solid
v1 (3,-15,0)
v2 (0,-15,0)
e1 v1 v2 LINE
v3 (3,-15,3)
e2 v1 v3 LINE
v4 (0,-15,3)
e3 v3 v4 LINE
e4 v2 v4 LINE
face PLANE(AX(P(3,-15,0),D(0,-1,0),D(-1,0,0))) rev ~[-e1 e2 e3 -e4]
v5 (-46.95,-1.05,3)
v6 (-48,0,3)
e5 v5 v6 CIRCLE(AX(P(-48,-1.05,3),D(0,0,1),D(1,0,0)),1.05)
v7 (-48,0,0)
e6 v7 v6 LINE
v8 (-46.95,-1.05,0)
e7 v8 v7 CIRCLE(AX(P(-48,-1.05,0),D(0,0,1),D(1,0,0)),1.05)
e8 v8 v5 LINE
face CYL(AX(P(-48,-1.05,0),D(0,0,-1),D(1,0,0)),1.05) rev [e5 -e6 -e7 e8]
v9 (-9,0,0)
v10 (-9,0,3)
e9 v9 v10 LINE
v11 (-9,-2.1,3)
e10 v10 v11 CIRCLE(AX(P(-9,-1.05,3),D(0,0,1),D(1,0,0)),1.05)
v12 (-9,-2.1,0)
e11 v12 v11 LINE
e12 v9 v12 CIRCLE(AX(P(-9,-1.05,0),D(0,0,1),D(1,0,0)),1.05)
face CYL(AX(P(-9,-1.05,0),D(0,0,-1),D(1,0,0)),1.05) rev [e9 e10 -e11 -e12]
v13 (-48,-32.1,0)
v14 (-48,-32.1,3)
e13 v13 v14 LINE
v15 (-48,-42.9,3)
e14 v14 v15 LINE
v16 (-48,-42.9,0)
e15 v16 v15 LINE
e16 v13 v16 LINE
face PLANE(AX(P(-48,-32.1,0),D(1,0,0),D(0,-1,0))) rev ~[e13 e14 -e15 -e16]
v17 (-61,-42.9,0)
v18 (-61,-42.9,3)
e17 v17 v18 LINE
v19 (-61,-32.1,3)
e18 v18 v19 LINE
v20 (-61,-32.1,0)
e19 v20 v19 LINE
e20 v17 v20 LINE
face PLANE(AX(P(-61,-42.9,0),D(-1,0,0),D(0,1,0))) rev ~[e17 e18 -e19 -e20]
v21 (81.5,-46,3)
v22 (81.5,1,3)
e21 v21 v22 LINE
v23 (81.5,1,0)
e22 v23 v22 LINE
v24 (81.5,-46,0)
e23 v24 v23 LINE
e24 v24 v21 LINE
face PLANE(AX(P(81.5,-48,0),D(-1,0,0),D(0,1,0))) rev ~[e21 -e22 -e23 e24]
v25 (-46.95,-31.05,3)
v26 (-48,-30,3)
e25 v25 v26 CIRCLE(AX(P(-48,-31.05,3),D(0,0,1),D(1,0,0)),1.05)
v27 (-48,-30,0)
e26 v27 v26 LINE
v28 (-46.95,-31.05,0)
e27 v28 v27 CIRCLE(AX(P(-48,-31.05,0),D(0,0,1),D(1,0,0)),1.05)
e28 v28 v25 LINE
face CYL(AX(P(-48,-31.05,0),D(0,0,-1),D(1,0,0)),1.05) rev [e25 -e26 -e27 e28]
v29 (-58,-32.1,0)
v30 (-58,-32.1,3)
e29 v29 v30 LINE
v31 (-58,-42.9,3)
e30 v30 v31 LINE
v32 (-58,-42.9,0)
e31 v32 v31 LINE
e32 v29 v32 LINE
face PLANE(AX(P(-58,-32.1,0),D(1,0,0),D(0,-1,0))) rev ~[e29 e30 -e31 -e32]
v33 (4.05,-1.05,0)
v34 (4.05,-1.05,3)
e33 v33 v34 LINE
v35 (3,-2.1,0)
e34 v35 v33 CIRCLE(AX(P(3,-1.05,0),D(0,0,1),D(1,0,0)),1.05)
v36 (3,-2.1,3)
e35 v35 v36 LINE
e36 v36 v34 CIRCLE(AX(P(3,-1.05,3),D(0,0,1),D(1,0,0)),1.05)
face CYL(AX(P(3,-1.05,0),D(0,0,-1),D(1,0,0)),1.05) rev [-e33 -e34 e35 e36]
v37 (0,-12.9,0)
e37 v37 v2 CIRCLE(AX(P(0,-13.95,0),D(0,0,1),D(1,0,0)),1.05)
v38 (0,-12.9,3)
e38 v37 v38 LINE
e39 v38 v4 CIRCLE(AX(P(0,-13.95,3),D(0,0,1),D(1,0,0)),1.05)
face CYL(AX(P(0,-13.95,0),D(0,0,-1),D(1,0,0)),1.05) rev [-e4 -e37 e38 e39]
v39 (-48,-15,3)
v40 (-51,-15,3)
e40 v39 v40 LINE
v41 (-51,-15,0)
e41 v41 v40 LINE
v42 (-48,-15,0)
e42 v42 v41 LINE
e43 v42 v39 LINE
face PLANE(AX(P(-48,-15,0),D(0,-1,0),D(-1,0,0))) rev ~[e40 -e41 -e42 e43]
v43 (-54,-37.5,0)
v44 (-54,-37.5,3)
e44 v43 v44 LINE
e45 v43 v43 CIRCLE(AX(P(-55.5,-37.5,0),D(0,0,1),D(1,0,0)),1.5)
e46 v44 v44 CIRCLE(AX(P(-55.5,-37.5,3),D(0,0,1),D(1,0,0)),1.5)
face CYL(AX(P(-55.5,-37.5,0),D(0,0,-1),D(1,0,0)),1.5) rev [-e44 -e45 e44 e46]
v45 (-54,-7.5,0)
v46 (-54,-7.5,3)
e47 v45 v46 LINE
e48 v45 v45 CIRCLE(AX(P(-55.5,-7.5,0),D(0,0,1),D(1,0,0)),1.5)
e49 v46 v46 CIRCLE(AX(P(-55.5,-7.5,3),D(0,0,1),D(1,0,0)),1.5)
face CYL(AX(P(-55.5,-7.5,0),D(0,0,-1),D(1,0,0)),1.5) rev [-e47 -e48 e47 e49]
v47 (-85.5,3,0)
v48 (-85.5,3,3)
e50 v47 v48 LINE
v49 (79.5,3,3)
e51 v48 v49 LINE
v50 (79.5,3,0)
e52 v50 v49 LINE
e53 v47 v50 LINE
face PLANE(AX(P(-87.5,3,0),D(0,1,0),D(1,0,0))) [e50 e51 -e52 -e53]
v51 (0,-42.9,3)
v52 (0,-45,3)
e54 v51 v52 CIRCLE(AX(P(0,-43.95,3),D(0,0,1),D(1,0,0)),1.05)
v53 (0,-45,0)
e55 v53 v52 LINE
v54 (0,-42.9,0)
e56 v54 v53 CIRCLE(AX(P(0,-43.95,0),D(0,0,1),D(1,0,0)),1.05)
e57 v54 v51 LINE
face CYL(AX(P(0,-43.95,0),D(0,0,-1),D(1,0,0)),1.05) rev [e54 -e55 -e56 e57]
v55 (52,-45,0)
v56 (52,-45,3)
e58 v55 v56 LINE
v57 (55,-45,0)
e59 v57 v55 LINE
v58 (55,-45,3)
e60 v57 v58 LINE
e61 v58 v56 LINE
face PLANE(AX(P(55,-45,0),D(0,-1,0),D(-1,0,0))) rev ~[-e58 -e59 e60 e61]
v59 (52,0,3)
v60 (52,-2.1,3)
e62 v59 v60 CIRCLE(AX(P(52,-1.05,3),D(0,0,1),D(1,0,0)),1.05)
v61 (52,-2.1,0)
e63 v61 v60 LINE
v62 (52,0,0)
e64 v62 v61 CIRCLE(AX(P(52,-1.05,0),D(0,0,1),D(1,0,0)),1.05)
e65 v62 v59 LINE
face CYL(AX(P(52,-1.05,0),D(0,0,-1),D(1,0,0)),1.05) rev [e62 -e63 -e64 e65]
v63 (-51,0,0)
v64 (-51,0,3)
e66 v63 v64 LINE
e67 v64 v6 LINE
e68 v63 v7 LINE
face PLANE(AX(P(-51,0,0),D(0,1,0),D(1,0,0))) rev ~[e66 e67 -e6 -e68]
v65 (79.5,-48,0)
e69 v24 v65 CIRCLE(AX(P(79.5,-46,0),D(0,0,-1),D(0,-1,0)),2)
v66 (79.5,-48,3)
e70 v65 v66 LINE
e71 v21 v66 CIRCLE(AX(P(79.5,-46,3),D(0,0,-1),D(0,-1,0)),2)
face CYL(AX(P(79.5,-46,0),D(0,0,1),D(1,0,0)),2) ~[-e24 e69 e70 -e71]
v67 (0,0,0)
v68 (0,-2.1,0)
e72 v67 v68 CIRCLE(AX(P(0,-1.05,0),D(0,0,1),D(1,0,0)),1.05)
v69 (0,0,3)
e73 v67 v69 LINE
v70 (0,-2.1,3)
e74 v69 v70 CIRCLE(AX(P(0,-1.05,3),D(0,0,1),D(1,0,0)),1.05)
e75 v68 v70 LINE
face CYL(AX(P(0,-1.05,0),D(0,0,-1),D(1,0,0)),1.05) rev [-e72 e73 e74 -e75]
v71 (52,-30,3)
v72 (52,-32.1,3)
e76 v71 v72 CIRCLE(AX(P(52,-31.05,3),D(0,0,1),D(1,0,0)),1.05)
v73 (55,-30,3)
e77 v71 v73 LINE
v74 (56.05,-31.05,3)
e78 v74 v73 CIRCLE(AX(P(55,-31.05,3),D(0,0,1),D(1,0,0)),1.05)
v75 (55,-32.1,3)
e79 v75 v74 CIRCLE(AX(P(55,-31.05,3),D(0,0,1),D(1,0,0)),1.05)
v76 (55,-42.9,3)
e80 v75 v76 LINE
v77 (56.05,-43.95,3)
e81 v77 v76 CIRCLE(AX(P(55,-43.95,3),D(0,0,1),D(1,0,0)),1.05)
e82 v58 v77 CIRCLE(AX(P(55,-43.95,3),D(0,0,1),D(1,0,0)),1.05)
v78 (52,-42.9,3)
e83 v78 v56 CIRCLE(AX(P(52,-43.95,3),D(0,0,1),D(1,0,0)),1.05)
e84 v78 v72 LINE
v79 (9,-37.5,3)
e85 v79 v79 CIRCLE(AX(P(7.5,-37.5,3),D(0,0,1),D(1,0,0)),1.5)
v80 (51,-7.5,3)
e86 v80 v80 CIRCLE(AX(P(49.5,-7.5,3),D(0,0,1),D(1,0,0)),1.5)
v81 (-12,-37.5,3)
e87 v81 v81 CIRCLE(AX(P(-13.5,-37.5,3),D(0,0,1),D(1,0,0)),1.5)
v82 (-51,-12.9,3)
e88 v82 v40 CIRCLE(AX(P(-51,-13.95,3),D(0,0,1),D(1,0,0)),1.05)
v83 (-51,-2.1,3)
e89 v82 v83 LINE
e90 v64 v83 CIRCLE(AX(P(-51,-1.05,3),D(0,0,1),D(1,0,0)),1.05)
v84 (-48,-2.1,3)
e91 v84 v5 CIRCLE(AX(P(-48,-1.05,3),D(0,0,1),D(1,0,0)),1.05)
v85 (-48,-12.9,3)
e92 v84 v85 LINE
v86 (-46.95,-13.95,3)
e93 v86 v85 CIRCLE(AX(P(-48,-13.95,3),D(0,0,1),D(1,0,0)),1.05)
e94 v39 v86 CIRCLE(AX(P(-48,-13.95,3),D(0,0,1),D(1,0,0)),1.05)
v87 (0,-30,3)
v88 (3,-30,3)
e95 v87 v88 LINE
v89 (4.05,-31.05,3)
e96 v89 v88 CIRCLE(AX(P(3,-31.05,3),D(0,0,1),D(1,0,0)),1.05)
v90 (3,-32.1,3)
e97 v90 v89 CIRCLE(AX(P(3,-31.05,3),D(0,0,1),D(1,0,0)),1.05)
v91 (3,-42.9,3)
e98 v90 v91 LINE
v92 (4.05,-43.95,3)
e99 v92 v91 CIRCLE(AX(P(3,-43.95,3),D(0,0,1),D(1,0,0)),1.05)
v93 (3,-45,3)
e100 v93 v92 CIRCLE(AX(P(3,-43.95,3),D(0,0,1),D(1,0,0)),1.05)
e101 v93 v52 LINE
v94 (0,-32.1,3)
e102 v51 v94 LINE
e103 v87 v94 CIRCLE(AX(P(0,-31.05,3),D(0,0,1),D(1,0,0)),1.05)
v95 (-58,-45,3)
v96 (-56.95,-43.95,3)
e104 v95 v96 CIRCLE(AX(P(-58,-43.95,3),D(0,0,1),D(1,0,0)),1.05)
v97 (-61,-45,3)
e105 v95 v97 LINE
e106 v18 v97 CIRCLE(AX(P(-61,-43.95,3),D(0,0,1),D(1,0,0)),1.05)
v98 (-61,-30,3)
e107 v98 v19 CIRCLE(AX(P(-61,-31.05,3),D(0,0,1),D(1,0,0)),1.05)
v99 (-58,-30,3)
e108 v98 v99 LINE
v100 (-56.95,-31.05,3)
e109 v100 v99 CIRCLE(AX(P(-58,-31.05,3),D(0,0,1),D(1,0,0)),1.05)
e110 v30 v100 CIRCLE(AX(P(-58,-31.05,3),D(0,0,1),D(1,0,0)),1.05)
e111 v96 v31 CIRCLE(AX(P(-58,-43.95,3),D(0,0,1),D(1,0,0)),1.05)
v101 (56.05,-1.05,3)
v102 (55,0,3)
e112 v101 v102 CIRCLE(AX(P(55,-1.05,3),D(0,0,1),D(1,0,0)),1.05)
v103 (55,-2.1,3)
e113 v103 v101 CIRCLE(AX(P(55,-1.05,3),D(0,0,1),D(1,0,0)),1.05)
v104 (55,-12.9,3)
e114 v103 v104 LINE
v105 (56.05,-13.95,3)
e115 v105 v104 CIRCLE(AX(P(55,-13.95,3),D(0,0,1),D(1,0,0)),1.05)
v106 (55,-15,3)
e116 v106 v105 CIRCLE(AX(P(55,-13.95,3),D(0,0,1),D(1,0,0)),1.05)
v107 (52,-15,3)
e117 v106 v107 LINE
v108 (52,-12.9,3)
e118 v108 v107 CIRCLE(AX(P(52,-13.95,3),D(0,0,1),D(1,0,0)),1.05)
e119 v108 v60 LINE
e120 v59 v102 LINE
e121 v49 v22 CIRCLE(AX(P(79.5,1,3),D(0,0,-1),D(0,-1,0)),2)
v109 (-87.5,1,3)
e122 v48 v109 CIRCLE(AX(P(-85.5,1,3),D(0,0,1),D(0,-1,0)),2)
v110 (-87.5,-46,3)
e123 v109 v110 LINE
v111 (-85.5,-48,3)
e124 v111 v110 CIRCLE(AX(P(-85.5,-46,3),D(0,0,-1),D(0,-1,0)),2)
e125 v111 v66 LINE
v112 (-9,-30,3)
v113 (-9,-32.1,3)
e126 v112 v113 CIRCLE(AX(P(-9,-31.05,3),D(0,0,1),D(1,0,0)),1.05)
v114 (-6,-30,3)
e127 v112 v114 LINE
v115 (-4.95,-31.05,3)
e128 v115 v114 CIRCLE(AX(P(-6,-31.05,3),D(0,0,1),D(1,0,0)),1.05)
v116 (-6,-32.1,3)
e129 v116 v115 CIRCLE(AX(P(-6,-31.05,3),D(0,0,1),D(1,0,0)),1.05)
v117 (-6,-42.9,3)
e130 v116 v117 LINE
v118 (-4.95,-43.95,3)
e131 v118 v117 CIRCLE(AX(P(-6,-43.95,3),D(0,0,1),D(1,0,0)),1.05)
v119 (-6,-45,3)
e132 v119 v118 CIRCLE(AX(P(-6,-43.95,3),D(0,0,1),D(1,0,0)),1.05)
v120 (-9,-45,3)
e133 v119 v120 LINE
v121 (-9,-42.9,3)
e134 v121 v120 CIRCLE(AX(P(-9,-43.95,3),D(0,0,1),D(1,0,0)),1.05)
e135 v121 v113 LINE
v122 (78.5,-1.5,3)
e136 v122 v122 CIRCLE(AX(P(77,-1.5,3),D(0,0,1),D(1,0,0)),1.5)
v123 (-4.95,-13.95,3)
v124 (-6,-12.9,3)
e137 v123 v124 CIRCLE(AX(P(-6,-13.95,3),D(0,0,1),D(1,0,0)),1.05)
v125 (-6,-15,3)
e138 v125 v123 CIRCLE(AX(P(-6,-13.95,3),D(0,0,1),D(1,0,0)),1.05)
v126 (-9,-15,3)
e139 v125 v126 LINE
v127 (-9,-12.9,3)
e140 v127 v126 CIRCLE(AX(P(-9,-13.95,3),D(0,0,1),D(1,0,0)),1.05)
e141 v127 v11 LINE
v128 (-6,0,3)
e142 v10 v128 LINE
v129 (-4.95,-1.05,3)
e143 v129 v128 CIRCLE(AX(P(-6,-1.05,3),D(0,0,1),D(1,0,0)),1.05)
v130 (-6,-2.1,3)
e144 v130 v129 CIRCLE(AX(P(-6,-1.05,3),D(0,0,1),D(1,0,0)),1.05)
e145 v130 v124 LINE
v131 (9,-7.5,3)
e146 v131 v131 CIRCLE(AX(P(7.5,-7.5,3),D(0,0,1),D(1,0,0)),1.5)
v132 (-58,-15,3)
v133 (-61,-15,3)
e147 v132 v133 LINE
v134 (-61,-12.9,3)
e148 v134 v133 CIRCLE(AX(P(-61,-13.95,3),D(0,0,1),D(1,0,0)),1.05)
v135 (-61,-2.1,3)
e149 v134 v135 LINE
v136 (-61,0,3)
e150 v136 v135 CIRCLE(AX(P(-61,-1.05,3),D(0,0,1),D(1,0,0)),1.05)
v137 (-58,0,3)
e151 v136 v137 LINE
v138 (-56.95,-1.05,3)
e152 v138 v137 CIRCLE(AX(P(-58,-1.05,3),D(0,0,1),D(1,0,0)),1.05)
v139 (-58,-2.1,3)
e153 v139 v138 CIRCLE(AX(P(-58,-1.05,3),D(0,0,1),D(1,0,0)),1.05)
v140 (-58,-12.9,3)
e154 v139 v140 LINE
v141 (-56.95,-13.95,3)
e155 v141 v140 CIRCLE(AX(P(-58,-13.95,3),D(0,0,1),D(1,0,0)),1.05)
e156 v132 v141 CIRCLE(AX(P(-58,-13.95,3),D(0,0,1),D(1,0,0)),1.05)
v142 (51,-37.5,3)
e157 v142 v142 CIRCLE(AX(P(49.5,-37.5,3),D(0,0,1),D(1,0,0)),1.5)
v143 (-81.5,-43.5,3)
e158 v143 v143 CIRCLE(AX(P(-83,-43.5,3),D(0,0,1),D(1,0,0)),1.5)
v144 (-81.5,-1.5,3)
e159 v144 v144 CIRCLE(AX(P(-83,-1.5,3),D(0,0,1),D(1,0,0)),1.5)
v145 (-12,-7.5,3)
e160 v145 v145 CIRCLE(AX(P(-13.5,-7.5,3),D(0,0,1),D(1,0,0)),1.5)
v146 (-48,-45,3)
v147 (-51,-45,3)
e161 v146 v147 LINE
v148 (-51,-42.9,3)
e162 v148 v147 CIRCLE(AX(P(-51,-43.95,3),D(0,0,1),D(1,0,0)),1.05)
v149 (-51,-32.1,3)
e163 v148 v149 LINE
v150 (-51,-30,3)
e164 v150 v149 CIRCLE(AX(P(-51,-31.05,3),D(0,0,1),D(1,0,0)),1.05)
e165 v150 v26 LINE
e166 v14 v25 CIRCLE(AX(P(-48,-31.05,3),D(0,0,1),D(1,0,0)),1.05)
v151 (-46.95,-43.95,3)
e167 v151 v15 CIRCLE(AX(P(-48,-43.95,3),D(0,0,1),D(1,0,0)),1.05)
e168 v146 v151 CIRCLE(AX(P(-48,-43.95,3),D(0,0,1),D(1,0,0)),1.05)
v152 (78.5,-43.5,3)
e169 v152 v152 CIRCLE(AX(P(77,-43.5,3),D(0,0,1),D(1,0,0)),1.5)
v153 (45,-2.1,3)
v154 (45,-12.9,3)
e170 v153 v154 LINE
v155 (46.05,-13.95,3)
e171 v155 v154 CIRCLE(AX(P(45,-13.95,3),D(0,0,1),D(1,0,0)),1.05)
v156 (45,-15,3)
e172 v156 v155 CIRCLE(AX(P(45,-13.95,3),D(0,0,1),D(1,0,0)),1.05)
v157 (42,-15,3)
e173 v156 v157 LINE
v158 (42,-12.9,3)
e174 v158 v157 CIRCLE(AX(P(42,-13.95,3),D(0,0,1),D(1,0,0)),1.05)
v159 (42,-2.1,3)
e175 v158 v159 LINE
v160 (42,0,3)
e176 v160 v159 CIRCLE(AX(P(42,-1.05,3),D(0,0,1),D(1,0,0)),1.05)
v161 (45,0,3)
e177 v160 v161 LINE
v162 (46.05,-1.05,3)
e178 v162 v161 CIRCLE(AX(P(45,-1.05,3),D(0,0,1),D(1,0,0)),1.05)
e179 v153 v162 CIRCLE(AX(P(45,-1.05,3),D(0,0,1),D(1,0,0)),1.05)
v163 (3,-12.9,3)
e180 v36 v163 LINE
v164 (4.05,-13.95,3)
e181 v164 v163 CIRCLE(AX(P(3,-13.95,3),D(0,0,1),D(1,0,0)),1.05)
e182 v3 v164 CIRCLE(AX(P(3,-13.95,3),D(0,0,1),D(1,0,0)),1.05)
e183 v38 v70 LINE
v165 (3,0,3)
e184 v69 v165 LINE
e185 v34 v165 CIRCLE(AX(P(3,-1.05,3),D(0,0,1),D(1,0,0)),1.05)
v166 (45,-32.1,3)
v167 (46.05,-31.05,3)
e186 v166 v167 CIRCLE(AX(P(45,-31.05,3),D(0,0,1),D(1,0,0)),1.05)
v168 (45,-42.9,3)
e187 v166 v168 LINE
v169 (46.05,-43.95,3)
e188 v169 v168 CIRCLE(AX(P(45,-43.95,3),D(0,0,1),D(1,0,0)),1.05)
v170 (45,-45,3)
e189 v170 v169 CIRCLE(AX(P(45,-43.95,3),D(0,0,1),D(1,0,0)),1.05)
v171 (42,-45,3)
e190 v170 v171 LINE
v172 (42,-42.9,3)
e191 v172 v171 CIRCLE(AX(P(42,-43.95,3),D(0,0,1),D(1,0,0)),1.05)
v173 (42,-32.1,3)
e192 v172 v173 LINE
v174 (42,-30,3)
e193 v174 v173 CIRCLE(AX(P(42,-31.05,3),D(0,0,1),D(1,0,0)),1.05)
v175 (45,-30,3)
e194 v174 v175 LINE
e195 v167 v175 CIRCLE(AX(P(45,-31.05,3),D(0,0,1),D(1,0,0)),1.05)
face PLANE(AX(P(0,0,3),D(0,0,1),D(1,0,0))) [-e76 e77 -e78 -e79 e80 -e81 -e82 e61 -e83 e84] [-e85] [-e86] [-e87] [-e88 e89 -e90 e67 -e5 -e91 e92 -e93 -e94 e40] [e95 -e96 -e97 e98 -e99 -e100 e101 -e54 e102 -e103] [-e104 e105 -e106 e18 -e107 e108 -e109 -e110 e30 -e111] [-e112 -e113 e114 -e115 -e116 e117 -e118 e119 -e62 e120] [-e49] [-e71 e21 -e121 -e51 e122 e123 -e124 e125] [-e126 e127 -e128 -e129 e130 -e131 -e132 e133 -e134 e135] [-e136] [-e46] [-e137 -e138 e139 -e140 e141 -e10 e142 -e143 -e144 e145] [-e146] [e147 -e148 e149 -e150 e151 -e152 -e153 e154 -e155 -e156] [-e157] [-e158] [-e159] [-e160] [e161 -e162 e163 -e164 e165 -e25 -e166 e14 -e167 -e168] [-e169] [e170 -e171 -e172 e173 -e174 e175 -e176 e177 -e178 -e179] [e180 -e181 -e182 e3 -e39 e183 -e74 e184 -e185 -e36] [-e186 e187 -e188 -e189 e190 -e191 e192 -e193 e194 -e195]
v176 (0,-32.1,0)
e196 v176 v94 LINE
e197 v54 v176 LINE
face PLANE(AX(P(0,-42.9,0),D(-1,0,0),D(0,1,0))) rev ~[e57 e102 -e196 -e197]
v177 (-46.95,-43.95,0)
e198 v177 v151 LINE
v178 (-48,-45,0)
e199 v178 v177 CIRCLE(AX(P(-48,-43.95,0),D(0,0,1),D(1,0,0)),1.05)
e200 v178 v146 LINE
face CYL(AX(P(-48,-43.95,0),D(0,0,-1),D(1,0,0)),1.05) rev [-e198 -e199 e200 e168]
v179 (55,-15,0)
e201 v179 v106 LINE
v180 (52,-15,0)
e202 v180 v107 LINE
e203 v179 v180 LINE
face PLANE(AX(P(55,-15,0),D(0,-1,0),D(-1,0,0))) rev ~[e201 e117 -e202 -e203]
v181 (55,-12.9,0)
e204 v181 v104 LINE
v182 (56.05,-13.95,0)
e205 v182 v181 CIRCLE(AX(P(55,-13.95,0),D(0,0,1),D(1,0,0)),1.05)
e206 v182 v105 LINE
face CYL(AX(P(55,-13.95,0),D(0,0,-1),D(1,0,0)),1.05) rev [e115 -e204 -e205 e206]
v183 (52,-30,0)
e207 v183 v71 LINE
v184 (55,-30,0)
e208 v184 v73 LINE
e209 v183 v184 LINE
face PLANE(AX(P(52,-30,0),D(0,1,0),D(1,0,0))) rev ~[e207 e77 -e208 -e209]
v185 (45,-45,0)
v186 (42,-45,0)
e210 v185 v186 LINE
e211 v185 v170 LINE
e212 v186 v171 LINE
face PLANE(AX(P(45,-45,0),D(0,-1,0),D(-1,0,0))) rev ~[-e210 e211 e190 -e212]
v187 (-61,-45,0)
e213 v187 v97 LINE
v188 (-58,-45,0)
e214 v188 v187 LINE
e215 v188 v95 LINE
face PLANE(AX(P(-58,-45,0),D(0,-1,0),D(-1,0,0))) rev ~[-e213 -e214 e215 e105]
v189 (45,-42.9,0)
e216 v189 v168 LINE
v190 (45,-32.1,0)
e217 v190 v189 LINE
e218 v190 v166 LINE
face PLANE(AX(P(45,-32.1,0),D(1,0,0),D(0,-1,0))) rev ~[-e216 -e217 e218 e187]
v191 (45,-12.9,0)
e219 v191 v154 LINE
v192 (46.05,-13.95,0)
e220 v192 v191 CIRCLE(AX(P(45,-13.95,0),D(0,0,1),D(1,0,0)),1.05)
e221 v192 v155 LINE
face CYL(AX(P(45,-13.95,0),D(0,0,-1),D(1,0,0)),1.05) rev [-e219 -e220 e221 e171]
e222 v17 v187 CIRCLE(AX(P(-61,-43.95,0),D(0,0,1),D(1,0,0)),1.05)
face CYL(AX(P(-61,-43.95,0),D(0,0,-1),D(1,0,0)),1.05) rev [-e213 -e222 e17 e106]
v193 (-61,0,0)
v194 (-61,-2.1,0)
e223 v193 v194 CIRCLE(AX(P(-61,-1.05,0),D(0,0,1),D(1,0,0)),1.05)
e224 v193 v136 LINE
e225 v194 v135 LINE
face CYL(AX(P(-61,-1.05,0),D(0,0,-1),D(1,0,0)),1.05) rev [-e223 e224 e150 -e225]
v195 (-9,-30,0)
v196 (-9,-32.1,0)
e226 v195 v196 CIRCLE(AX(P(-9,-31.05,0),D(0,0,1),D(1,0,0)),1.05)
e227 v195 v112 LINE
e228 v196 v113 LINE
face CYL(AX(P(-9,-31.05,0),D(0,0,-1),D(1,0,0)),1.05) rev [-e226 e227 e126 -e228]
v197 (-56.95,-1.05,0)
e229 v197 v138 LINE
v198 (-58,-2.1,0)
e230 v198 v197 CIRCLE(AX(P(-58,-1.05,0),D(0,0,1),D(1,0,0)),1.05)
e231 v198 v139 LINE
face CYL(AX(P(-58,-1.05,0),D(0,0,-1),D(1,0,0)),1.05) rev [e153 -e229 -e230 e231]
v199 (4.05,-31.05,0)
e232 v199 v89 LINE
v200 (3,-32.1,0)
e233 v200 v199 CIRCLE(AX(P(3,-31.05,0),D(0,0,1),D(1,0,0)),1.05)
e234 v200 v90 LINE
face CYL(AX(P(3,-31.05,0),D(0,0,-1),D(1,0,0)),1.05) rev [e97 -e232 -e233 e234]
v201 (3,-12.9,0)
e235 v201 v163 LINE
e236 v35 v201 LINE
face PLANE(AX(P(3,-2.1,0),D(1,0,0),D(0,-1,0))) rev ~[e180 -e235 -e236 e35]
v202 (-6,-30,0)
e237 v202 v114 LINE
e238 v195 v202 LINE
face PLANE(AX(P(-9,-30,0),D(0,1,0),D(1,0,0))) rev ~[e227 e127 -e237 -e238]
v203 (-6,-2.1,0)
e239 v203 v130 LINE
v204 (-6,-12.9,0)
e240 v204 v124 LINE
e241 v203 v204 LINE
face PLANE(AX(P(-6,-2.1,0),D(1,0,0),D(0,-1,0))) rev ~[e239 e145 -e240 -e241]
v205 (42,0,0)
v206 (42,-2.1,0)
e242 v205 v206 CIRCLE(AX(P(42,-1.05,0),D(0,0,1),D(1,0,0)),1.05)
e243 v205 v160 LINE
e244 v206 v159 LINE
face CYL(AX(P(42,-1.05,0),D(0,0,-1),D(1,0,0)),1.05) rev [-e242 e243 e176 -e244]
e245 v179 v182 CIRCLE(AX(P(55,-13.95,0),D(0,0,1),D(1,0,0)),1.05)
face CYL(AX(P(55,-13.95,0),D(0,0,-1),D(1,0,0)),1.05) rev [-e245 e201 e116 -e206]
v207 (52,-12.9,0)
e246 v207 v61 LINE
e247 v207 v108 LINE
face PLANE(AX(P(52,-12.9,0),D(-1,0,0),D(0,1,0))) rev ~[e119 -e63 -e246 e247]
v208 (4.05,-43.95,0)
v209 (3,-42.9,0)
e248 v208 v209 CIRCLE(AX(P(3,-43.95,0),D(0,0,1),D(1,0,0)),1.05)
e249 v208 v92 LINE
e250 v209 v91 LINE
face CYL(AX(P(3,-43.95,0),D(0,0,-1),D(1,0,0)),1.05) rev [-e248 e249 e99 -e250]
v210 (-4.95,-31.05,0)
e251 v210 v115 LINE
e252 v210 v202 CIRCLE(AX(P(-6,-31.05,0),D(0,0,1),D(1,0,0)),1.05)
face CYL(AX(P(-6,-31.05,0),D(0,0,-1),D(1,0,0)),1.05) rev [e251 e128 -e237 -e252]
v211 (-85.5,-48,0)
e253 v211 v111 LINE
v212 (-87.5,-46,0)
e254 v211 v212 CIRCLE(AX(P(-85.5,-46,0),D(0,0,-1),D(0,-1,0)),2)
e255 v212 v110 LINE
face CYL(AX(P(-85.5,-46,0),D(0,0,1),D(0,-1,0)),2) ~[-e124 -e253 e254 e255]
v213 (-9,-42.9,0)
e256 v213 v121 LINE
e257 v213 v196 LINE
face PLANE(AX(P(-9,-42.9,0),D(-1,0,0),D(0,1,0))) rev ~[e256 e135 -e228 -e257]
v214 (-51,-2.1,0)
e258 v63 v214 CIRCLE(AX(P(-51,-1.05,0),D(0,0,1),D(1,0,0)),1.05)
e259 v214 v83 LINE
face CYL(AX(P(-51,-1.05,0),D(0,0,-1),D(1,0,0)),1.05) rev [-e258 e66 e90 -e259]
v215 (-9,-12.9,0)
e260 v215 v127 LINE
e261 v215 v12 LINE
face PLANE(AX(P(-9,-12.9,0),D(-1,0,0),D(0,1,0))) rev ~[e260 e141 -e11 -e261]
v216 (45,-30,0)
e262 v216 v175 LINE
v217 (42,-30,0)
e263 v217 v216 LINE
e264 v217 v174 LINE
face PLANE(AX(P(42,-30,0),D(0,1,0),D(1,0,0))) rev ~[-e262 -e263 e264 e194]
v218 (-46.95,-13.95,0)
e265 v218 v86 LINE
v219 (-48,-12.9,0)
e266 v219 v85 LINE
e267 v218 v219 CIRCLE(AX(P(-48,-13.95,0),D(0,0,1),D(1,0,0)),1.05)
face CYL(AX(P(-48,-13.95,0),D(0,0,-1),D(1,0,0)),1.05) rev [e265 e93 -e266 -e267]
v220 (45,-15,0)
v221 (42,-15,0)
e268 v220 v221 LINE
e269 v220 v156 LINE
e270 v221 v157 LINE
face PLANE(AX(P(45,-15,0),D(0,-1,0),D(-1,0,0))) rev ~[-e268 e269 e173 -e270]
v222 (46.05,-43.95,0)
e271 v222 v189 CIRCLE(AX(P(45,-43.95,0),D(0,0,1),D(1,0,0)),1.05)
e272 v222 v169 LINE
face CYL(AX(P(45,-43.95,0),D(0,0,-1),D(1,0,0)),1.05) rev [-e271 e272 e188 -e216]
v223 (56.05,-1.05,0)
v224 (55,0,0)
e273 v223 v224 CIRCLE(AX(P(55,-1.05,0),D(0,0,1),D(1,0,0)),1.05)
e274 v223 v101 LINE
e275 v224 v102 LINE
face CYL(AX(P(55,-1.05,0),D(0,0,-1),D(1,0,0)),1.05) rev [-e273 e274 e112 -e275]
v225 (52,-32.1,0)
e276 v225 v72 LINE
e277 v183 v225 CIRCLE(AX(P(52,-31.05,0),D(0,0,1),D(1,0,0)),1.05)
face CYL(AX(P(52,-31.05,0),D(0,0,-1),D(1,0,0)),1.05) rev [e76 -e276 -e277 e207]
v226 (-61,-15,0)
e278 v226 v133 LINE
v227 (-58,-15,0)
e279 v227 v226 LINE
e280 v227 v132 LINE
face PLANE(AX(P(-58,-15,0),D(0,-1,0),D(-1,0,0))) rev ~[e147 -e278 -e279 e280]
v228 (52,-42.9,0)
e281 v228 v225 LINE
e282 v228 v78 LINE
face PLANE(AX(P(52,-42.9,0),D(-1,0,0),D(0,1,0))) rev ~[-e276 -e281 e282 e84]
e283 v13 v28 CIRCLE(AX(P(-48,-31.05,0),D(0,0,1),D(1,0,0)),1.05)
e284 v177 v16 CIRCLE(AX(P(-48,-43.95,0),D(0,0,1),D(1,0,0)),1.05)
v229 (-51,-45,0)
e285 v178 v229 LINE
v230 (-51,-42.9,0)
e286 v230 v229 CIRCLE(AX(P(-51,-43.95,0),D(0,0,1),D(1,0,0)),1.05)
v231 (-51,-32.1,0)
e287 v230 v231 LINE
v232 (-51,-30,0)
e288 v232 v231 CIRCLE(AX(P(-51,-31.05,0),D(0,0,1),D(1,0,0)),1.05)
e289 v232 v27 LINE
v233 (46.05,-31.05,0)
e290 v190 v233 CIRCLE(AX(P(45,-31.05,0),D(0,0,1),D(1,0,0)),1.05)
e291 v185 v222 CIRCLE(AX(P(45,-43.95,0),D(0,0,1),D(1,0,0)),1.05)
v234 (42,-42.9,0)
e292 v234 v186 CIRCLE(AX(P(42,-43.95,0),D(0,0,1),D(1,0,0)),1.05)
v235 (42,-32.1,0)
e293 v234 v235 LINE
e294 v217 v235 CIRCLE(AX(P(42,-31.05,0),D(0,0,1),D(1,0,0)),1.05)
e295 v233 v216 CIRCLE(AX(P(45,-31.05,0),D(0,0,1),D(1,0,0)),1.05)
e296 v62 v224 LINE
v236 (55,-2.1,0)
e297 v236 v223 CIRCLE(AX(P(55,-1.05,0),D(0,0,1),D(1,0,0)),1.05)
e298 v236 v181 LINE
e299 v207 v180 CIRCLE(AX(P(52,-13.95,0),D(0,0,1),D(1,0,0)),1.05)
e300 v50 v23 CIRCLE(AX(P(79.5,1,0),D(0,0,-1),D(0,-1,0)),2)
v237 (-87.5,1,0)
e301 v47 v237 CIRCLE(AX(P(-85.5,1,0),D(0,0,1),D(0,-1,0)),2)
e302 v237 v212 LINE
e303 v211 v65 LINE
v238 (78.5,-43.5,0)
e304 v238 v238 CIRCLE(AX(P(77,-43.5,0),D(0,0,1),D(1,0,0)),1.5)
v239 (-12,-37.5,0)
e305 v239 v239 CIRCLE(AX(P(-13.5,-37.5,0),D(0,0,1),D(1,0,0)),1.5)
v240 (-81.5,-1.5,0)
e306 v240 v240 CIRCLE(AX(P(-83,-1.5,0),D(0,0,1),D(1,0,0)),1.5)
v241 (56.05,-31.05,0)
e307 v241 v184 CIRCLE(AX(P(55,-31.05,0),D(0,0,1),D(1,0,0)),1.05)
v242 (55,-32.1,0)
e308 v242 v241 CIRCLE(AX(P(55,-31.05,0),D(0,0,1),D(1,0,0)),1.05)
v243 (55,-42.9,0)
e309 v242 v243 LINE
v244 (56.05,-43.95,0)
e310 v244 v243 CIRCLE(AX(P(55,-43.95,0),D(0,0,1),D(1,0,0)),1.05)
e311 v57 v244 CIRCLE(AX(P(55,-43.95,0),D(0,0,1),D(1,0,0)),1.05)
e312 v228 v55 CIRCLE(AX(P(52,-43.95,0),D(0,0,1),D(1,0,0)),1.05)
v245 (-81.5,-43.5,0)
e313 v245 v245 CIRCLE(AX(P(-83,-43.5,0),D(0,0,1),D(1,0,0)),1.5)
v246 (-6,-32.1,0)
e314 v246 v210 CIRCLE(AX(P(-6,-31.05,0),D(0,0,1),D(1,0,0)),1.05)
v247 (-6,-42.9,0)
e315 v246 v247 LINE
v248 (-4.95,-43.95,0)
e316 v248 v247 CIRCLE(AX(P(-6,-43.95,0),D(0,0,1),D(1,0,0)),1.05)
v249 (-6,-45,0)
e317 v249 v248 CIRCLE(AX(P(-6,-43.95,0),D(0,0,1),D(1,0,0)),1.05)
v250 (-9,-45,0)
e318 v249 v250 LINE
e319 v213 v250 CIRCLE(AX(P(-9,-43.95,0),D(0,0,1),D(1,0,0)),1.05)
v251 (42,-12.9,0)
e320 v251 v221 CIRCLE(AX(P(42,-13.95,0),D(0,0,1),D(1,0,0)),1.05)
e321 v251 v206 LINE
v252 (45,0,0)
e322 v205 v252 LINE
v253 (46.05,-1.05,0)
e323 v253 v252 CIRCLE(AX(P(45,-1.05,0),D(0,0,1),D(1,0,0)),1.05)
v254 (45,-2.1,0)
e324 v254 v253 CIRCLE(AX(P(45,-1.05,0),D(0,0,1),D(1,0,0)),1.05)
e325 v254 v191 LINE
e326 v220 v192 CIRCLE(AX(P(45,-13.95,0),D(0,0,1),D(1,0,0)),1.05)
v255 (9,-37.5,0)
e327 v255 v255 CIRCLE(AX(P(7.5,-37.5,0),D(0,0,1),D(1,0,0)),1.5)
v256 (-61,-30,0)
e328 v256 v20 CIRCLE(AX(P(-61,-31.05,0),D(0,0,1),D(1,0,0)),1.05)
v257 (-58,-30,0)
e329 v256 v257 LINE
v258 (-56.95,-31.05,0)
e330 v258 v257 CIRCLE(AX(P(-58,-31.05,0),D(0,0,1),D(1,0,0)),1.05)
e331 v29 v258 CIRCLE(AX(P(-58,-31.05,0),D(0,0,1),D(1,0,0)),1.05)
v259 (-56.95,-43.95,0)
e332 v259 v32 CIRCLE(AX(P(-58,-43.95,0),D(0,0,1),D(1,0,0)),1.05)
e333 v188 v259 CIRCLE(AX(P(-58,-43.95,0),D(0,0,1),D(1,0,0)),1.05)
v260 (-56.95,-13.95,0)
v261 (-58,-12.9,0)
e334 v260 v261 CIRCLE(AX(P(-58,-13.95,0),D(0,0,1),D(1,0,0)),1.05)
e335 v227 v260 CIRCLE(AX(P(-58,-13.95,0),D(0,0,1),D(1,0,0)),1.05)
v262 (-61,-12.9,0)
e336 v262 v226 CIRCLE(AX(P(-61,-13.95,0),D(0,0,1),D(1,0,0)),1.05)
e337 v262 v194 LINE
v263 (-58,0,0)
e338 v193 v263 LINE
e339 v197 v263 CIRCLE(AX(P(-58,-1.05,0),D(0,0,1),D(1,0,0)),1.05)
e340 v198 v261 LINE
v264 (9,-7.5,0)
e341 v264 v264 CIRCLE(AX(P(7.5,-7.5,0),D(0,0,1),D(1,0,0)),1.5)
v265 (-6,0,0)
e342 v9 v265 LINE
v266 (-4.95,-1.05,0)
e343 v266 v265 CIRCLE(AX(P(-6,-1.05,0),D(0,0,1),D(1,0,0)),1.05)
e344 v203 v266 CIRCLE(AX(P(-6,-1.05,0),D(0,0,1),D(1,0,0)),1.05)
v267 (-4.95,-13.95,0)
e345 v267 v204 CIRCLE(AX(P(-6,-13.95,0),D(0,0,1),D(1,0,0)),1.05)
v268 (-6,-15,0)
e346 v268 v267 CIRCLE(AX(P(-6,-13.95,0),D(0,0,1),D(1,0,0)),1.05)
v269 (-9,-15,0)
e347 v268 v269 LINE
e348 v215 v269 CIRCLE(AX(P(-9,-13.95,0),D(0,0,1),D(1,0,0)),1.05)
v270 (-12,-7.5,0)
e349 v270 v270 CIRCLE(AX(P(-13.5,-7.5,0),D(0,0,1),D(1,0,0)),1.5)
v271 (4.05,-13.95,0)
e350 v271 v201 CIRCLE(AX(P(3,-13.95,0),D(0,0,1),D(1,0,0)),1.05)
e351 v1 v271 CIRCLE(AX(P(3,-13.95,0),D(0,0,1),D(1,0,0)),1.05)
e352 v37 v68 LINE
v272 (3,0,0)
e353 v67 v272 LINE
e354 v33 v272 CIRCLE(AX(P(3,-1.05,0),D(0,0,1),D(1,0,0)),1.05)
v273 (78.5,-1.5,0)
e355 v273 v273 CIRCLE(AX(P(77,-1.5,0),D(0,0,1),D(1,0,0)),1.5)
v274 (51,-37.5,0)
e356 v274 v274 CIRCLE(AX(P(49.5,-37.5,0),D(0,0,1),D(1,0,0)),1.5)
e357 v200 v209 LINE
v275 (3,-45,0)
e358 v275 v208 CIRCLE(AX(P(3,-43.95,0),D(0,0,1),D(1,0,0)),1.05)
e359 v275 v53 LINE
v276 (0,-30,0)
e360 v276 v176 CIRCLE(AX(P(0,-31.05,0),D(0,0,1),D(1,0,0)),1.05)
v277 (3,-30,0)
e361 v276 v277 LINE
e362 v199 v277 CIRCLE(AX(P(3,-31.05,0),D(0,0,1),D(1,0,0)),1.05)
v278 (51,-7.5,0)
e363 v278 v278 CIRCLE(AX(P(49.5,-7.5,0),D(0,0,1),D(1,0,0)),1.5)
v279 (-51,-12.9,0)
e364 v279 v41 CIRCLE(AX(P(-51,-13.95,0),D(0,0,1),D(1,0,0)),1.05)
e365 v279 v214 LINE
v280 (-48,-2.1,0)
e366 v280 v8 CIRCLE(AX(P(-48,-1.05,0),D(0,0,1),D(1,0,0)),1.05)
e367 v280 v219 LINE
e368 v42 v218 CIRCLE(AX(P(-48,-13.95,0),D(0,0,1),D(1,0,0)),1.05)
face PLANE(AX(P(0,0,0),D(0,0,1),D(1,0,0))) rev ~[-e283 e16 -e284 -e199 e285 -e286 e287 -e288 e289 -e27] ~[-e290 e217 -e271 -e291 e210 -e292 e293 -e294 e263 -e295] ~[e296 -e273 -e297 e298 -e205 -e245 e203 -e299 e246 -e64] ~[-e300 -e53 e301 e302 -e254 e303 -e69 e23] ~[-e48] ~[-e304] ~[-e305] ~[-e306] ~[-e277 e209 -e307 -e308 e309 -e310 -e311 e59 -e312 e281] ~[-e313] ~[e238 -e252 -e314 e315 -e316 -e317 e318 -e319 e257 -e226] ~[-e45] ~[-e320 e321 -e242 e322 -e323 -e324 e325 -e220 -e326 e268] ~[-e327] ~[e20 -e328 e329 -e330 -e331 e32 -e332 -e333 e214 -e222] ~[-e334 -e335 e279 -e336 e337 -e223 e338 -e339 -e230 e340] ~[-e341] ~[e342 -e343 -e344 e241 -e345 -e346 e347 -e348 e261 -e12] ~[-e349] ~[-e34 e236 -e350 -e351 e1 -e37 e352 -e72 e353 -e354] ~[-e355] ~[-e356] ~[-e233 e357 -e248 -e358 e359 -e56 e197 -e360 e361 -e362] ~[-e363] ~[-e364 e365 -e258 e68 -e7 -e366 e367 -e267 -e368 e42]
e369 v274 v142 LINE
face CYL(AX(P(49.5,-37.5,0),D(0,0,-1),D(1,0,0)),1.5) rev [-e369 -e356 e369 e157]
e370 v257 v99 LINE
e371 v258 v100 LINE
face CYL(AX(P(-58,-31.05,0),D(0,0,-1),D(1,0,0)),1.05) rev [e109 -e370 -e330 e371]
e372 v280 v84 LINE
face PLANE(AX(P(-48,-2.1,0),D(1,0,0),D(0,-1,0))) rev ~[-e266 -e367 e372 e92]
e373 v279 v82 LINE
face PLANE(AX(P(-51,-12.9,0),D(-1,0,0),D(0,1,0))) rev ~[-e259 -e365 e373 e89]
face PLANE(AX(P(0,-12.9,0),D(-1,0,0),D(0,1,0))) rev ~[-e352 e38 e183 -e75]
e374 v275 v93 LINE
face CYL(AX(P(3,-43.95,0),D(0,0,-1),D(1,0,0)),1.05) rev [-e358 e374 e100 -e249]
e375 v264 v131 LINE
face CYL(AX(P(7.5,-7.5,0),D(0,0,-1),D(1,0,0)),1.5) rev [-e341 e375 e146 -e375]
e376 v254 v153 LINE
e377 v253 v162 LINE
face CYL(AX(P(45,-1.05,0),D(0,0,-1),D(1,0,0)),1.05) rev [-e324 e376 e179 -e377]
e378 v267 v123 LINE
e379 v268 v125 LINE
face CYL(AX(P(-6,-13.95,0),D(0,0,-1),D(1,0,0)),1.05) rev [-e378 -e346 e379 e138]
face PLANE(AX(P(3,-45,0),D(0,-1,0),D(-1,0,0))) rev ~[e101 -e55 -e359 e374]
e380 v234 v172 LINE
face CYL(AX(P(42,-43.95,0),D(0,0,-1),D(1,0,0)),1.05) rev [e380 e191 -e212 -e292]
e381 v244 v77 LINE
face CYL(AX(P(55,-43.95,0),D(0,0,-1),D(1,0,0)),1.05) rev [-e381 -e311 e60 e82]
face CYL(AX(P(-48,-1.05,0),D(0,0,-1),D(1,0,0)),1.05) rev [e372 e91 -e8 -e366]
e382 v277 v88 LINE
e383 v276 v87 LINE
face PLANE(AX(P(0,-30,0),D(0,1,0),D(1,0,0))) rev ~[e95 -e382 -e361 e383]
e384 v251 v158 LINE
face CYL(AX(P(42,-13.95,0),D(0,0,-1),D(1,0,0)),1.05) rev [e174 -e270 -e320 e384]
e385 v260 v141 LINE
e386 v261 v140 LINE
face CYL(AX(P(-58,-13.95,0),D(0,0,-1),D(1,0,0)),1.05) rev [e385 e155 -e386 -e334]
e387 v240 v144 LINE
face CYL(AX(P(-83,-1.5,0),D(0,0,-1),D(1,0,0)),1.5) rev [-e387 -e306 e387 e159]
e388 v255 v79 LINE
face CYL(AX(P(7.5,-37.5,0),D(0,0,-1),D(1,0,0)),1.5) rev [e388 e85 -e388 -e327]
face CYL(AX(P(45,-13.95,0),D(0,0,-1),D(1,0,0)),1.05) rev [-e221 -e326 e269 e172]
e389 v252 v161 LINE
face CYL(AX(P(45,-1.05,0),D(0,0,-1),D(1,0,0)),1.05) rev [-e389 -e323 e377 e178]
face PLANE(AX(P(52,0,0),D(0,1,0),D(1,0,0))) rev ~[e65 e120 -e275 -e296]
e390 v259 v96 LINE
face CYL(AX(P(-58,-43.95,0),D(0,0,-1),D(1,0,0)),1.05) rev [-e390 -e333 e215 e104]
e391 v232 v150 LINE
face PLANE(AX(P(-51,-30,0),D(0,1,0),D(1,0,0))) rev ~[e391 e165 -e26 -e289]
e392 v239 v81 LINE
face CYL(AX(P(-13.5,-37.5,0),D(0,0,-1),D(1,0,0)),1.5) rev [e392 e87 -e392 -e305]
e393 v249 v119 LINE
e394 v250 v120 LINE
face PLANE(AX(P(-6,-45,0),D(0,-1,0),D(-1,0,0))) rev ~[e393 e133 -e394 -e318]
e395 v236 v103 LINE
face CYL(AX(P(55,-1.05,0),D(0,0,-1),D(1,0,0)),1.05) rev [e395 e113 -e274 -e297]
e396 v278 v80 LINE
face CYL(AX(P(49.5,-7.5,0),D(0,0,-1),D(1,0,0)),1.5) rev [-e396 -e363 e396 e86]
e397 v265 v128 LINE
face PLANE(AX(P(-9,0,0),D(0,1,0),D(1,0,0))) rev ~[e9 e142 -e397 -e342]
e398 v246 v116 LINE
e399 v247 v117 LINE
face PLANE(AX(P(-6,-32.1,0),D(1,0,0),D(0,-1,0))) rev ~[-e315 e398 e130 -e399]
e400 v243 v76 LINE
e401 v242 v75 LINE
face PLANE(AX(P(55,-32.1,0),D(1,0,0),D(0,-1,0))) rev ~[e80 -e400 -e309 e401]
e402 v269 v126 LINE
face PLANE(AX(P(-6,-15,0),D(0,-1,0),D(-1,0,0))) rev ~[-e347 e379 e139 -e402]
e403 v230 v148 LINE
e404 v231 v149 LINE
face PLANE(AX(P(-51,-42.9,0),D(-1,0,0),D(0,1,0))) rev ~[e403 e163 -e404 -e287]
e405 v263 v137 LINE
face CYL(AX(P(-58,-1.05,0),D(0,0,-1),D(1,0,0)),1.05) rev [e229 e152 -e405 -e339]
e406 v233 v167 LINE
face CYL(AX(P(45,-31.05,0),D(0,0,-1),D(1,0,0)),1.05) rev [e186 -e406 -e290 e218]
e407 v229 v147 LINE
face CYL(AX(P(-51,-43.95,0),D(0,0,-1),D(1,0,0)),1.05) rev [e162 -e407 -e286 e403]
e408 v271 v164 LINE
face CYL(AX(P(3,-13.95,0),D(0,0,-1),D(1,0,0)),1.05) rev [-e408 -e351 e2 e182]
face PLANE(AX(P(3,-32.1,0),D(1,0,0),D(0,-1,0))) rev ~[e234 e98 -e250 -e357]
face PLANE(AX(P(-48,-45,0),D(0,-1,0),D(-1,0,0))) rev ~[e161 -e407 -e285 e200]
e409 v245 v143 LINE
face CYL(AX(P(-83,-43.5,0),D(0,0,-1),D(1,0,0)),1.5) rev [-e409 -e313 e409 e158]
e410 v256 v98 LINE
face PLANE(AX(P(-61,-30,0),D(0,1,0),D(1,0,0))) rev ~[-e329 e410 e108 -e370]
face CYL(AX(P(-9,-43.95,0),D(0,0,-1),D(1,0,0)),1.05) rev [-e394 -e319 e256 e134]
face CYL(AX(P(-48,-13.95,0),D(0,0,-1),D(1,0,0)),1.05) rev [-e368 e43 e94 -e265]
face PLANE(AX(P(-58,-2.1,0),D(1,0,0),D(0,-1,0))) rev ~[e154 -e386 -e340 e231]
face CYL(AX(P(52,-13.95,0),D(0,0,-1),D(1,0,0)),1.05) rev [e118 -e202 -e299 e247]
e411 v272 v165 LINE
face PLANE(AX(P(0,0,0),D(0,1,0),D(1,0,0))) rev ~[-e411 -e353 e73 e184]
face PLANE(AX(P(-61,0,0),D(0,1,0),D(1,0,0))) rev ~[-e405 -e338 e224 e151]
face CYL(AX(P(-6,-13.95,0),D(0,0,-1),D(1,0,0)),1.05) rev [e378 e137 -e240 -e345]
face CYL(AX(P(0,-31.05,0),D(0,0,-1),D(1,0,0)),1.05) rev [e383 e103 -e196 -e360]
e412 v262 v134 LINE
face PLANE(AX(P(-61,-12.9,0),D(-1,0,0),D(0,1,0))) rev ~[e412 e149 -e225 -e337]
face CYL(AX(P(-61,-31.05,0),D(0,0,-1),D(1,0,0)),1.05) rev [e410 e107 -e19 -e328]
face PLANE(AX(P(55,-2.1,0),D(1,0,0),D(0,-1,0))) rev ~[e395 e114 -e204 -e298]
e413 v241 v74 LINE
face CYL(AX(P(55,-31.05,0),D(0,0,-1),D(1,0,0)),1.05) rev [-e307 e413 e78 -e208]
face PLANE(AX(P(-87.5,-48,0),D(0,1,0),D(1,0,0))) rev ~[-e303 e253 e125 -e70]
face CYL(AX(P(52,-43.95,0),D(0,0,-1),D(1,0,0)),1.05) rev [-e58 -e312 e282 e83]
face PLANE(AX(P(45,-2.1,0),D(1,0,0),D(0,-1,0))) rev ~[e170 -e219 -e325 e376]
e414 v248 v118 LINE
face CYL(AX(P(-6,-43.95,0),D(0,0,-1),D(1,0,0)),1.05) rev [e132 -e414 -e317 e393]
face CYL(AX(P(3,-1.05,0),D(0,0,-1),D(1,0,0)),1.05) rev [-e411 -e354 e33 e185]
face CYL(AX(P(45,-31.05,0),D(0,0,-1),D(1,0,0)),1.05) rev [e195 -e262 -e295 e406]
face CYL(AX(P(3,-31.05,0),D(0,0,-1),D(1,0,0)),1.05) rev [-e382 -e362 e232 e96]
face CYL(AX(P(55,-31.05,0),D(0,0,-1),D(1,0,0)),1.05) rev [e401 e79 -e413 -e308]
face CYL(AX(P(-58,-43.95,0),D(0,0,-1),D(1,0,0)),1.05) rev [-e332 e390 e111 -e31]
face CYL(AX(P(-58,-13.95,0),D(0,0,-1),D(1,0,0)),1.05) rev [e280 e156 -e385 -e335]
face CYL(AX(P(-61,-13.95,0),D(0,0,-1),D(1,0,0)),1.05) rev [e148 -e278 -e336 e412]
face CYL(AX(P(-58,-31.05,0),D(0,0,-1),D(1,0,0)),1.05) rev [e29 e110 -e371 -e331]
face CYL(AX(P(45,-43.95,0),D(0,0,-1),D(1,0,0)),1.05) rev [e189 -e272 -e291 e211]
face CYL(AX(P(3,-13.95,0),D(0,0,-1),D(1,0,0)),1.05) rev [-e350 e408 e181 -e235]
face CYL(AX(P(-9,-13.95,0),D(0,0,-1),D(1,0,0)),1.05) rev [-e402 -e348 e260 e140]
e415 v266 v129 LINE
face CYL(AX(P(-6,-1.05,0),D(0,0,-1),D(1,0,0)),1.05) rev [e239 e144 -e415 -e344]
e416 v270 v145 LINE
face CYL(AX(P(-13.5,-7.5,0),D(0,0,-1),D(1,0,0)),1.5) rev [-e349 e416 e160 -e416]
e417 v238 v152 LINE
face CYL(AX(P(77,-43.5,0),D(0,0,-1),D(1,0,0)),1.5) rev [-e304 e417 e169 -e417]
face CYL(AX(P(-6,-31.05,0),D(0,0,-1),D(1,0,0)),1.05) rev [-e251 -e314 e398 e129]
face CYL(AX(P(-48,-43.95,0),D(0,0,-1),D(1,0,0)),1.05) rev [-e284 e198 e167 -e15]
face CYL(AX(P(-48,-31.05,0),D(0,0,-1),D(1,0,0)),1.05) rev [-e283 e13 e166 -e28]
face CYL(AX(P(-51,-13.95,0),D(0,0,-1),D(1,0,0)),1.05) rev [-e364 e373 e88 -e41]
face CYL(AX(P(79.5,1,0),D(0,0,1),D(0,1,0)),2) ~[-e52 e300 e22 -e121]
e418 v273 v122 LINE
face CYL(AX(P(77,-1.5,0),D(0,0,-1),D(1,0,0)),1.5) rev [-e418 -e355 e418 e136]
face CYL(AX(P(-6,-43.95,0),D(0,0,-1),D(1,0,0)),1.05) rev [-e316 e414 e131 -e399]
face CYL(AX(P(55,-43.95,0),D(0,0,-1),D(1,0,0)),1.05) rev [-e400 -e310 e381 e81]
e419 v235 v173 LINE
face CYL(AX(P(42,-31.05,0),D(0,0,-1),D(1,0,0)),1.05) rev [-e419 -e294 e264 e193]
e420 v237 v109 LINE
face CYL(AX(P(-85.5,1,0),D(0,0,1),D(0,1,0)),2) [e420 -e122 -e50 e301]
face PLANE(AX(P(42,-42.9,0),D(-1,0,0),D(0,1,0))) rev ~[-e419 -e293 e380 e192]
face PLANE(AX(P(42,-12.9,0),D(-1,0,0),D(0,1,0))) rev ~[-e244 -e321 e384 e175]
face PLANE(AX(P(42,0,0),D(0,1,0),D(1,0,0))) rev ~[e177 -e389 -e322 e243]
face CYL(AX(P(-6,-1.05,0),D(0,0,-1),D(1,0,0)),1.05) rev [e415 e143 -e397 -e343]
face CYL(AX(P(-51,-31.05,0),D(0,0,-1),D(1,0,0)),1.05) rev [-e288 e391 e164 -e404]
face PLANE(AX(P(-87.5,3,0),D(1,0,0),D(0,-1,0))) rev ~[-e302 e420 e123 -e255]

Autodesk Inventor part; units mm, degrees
ref_plane "YZ Plane" through (0, 0, 0) normal (1, 0, 0) x (0, 1, 0)
ref_plane "XZ Plane" through (0, 0, 0) normal (0, 1, 0) x (-1, 0, 0)
ref_plane "XY Plane" through (0, 0, 0) normal (0, 0, 1) x (1, 0, 0)
sketch "スケッチ1" plane through (0, 0, 0) normal (0, 0, 1) x (1, 0, 0)
  line L0 (0, 0) -> (3, 0)
  line L1 (3, 0) -> (3, -15)
  line L2 (3, -15) -> (0, -15)
  line L3 (0, -15) -> (0, 0)
  line L4 (-9, 0) -> (-6, 0)
  line L5 (-6, 0) -> (-6, -15)
  line L6 (-6, -15) -> (-9, -15)
  line L7 (-9, -15) -> (-9, 0)
  line L8 (0, -30) -> (3, -30)
  line L9 (3, -30) -> (3, -45)
  line L10 (3, -45) -> (0, -45)
  line L11 (0, -45) -> (0, -30)
  line L12 (-9, -30) -> (-6, -30)
  line L13 (-6, -30) -> (-6, -45)
  line L14 (-6, -45) -> (-9, -45)
  line L15 (-9, -45) -> (-9, -30)
  line L16 (-87.5, 3) -> (81.5, 3)
  line L17 (-87.5, 3) -> (-87.5, -48)
  line L18 (-87.5, -48) -> (81.5, -48)
  line L19 (81.5, -48) -> (81.5, 3)
  circle A0 centre (-83, -1.5) radius 1.5
  circle A1 centre (77, -1.5) radius 1.5
  circle A2 centre (77, -43.5) radius 1.5
  circle A3 centre (-83, -43.5) radius 1.5
  circle A4 centre (3, -1.05) radius 1.05
  circle A5 centre (3, -13.95) radius 1.05
  circle A6 centre (0, -13.95) radius 1.05
  circle A7 centre (0, -1.05) radius 1.05
  circle A8 centre (-6, -1.05) radius 1.05
  circle A9 centre (-6, -13.95) radius 1.05
  circle A10 centre (-9, -13.95) radius 1.05
  circle A11 centre (-9, -1.05) radius 1.05
  circle A12 centre (-6, -31.05) radius 1.05
  circle A13 centre (-6, -43.95) radius 1.05
  circle A14 centre (-9, -43.95) radius 1.05
  circle A15 centre (-9, -31.05) radius 1.05
  circle A16 centre (0, -31.05) radius 1.05
  circle A17 centre (3, -31.05) radius 1.05
  circle A18 centre (3, -43.95) radius 1.05
  circle A19 centre (0, -43.95) radius 1.05
  circle A20 centre (-13.5, -7.5) radius 1.5
  circle A21 centre (7.5, -7.5) radius 1.5
  circle A22 centre (7.5, -37.5) radius 1.5
  circle A23 centre (-13.5, -37.5) radius 1.5
  line L20 (42, 0) -> (45, 0)
  line L21 (45, 0) -> (45, -15)
  line L22 (45, -15) -> (42, -15)
  line L23 (42, -15) -> (42, 0)
  line L24 (42, -30) -> (45, -30)
  line L25 (45, -30) -> (45, -45)
  line L26 (45, -45) -> (42, -45)
  line L27 (42, -45) -> (42, -30)
  circle A24 centre (45, -1.05) radius 1.05
  circle A25 centre (45, -13.95) radius 1.05
  circle A26 centre (42, -13.95) radius 1.05
  circle A27 centre (42, -1.05) radius 1.05
  circle A28 centre (42, -31.05) radius 1.05
  circle A29 centre (45, -31.05) radius 1.05
  circle A30 centre (45, -43.95) radius 1.05
  circle A31 centre (42, -43.95) radius 1.05
  circle A32 centre (49.5, -7.5) radius 1.5
  circle A33 centre (49.5, -37.5) radius 1.5
  line L28 (-51, 0) -> (-48, 0)
  line L29 (-48, 0) -> (-48, -15)
  line L30 (-48, -15) -> (-51, -15)
  line L31 (-51, -15) -> (-51, 0)
  line L32 (-51, -30) -> (-48, -30)
  line L33 (-48, -30) -> (-48, -45)
  line L34 (-48, -45) -> (-51, -45)
  line L35 (-51, -45) -> (-51, -30)
  circle A34 centre (-48, -1.05) radius 1.05
  circle A35 centre (-48, -13.95) radius 1.05
  circle A36 centre (-51, -13.95) radius 1.05
  circle A37 centre (-51, -1.05) radius 1.05
  circle A38 centre (-48, -31.05) radius 1.05
  circle A39 centre (-48, -43.95) radius 1.05
  circle A40 centre (-51, -43.95) radius 1.05
  circle A41 centre (-51, -31.05) radius 1.05
  circle A42 centre (-55.5, -7.5) radius 1.5
  circle A43 centre (-55.5, -37.5) radius 1.5
  line L36 (55, -30) -> (55, -45)
  line L37 (55, -45) -> (52, -45)
  circle A44 centre (52, -43.95) radius 1.05
  line L38 (52, -45) -> (52, -30)
  circle A45 centre (55, -43.95) radius 1.05
  line L39 (52, 0) -> (55, 0)
  line L40 (55, 0) -> (55, -15)
  line L41 (55, -15) -> (52, -15)
  line L42 (52, -15) -> (52, 0)
  circle A46 centre (55, -1.05) radius 1.05
  circle A47 centre (52, -1.05) radius 1.05
  circle A48 centre (52, -13.95) radius 1.05
  circle A49 centre (55, -13.95) radius 1.05
  line L43 (52, -30) -> (55, -30)
  circle A50 centre (55, -31.05) radius 1.05
  circle A51 centre (52, -31.05) radius 1.05
  line L44 (-61, -15) -> (-61, 0)
  line L45 (-58, -30) -> (-58, -45)
  line L46 (-61, -45) -> (-61, -30)
  line L47 (-58, 0) -> (-58, -15)
  circle A52 centre (-58, -31.05) radius 1.05
  circle A53 centre (-58, -43.95) radius 1.05
  circle A54 centre (-61, -13.95) radius 1.05
  circle A55 centre (-58, -1.05) radius 1.05
  circle A56 centre (-61, -1.05) radius 1.05
  circle A57 centre (-58, -13.95) radius 1.05
  line L48 (-58, -45) -> (-61, -45)
  line L49 (-61, -30) -> (-58, -30)
  line L50 (-61, 0) -> (-58, 0)
  line L51 (-58, -15) -> (-61, -15)
  circle A58 centre (-61, -43.95) radius 1.05
  circle A59 centre (-61, -31.05) radius 1.05
  point P0 (0, -42.9)
  point P1 (0, -32.1)
  point P2 (3, -32.1)
  point P3 (3, -42.9)
  point P4 (0, -2.1)
  point P5 (3, -2.1)
  point P6 (3, -12.9)
  point P7 (0, -12.9)
  point P8 (-9, -2.1)
  point P9 (-6, 0)
  point P10 (-6, -2.1)
  point P11 (-6, -12.9)
  point P12 (-9, -12.9)
  point P13 (-9, -32.1)
  point P14 (-6, -32.1)
  point P15 (-6, -42.9)
  point P16 (-9, -42.9)
  point P17 (-4.9275, 0)
  point P18 (1, -30)
  point P19 (-51, -32.1)
  point P20 (-48, -32.1)
  point P21 (-48, -42.9)
  point P22 (-51, -42.9)
  point P23 (42, -12.9)
  point P24 (42, -2.1)
  point P25 (45, -2.1)
  point P26 (45, -12.9)
  point P27 (42, -32.1)
  point P28 (45, -32.1)
  point P29 (45, -42.9)
  point P30 (42, -42.9)
  point P31 (-51, -12.9)
  point P32 (-51, -2.1)
  point P33 (-51, 0)
  point P34 (-48, -2.1)
  point P35 (-48, -12.9)
  point P36 (5.0725, 0)
  point P37 (11, -30)
  point P38 (-61, -42.9)
  point P39 (-61, -32.1)
  point P40 (-58, -32.1)
  point P41 (-58, -42.9)
  point P42 (-61, -2.1)
  point P43 (-61, 0)
  point P44 (-58, -2.1)
  point P45 (-58, -12.9)
  point P46 (-61, -12.9)
  point P47 (52, -42.9)
  point P48 (52, -32.1)
  point P49 (55, -32.1)
  point P50 (55, -42.9)
  point P51 (55, -2.1)
  point P52 (55, -12.9)
  point P53 (52, -12.9)
  point P54 (52, -2.1)
  dimension "d0" = 3
  dimension "d1" = 15
  dimension "d2" = 3
  dimension "d3" = 15
  dimension "d4" = 3
  dimension "d5" = 15
  dimension "d6" = 3
  dimension "d7" = 15
  dimension "d8" = 15
  dimension "d9" = 6
  dimension "d10" = 3
  dimension "d11" = 3
  dimension "d13" = 3
  dimension "d14" = 3
  dimension "d15" = 3
  dimension "d16" = 3
  dimension "d17" = 4.5
  dimension "d18" = 4.5
  dimension "d19" = 4.5
  dimension "d20" = 4.5
  dimension "d21" = 4.5
  dimension "d22" = 4.5
  dimension "d23" = 4.5
  dimension "d24" = 4.5
  dimension "d25" = 160
  dimension "d26" = 74
  dimension "d27" = 2.1
  dimension "d31" = 3
  dimension "d32" = 3
  dimension "d33" = 3
  dimension "d34" = 3
  dimension "d35" = 4.5
  dimension "d36" = 4.5
  dimension "d37" = 4.5
  dimension "d38" = 4.5
  dimension "d39" = 7.5
  dimension "d40" = 7.5
  dimension "d41" = 7.5
  dimension "d42" = 7.5
  dimension "d43" = 3
  dimension "d44" = 15
  dimension "d45" = 3
  dimension "d46" = 15
  dimension "d47" = 15
  dimension "d48" = 2.1
  dimension "d49" = 3
  dimension "d50" = 3
  dimension "d51" = 4.5
  dimension "d52" = 4.5
  dimension "d53" = 7.5
  dimension "d54" = 7.5
  dimension "d55" = 3
  dimension "d56" = 15
  dimension "d57" = 3
  dimension "d58" = 15
  dimension "d59" = 3
  dimension "d60" = 3
  dimension "d61" = 4.5
  dimension "d62" = 4.5
  dimension "d63" = 7.5
  dimension "d64" = 7.5
  dimension "d65" = 3
  dimension "d66" = 90
  dimension "d67" = 36.5
extrude "押し出し1" add sketch "スケッチ1" along normal blind 3
fillet "フィレット1" radius 2 4 edges at (81.5, 3, 1.5) (81.5, -48, 1.5) (-87.5, -48, 1.5) (-87.5, 3, 1.5)
properties part number "シールド板"
